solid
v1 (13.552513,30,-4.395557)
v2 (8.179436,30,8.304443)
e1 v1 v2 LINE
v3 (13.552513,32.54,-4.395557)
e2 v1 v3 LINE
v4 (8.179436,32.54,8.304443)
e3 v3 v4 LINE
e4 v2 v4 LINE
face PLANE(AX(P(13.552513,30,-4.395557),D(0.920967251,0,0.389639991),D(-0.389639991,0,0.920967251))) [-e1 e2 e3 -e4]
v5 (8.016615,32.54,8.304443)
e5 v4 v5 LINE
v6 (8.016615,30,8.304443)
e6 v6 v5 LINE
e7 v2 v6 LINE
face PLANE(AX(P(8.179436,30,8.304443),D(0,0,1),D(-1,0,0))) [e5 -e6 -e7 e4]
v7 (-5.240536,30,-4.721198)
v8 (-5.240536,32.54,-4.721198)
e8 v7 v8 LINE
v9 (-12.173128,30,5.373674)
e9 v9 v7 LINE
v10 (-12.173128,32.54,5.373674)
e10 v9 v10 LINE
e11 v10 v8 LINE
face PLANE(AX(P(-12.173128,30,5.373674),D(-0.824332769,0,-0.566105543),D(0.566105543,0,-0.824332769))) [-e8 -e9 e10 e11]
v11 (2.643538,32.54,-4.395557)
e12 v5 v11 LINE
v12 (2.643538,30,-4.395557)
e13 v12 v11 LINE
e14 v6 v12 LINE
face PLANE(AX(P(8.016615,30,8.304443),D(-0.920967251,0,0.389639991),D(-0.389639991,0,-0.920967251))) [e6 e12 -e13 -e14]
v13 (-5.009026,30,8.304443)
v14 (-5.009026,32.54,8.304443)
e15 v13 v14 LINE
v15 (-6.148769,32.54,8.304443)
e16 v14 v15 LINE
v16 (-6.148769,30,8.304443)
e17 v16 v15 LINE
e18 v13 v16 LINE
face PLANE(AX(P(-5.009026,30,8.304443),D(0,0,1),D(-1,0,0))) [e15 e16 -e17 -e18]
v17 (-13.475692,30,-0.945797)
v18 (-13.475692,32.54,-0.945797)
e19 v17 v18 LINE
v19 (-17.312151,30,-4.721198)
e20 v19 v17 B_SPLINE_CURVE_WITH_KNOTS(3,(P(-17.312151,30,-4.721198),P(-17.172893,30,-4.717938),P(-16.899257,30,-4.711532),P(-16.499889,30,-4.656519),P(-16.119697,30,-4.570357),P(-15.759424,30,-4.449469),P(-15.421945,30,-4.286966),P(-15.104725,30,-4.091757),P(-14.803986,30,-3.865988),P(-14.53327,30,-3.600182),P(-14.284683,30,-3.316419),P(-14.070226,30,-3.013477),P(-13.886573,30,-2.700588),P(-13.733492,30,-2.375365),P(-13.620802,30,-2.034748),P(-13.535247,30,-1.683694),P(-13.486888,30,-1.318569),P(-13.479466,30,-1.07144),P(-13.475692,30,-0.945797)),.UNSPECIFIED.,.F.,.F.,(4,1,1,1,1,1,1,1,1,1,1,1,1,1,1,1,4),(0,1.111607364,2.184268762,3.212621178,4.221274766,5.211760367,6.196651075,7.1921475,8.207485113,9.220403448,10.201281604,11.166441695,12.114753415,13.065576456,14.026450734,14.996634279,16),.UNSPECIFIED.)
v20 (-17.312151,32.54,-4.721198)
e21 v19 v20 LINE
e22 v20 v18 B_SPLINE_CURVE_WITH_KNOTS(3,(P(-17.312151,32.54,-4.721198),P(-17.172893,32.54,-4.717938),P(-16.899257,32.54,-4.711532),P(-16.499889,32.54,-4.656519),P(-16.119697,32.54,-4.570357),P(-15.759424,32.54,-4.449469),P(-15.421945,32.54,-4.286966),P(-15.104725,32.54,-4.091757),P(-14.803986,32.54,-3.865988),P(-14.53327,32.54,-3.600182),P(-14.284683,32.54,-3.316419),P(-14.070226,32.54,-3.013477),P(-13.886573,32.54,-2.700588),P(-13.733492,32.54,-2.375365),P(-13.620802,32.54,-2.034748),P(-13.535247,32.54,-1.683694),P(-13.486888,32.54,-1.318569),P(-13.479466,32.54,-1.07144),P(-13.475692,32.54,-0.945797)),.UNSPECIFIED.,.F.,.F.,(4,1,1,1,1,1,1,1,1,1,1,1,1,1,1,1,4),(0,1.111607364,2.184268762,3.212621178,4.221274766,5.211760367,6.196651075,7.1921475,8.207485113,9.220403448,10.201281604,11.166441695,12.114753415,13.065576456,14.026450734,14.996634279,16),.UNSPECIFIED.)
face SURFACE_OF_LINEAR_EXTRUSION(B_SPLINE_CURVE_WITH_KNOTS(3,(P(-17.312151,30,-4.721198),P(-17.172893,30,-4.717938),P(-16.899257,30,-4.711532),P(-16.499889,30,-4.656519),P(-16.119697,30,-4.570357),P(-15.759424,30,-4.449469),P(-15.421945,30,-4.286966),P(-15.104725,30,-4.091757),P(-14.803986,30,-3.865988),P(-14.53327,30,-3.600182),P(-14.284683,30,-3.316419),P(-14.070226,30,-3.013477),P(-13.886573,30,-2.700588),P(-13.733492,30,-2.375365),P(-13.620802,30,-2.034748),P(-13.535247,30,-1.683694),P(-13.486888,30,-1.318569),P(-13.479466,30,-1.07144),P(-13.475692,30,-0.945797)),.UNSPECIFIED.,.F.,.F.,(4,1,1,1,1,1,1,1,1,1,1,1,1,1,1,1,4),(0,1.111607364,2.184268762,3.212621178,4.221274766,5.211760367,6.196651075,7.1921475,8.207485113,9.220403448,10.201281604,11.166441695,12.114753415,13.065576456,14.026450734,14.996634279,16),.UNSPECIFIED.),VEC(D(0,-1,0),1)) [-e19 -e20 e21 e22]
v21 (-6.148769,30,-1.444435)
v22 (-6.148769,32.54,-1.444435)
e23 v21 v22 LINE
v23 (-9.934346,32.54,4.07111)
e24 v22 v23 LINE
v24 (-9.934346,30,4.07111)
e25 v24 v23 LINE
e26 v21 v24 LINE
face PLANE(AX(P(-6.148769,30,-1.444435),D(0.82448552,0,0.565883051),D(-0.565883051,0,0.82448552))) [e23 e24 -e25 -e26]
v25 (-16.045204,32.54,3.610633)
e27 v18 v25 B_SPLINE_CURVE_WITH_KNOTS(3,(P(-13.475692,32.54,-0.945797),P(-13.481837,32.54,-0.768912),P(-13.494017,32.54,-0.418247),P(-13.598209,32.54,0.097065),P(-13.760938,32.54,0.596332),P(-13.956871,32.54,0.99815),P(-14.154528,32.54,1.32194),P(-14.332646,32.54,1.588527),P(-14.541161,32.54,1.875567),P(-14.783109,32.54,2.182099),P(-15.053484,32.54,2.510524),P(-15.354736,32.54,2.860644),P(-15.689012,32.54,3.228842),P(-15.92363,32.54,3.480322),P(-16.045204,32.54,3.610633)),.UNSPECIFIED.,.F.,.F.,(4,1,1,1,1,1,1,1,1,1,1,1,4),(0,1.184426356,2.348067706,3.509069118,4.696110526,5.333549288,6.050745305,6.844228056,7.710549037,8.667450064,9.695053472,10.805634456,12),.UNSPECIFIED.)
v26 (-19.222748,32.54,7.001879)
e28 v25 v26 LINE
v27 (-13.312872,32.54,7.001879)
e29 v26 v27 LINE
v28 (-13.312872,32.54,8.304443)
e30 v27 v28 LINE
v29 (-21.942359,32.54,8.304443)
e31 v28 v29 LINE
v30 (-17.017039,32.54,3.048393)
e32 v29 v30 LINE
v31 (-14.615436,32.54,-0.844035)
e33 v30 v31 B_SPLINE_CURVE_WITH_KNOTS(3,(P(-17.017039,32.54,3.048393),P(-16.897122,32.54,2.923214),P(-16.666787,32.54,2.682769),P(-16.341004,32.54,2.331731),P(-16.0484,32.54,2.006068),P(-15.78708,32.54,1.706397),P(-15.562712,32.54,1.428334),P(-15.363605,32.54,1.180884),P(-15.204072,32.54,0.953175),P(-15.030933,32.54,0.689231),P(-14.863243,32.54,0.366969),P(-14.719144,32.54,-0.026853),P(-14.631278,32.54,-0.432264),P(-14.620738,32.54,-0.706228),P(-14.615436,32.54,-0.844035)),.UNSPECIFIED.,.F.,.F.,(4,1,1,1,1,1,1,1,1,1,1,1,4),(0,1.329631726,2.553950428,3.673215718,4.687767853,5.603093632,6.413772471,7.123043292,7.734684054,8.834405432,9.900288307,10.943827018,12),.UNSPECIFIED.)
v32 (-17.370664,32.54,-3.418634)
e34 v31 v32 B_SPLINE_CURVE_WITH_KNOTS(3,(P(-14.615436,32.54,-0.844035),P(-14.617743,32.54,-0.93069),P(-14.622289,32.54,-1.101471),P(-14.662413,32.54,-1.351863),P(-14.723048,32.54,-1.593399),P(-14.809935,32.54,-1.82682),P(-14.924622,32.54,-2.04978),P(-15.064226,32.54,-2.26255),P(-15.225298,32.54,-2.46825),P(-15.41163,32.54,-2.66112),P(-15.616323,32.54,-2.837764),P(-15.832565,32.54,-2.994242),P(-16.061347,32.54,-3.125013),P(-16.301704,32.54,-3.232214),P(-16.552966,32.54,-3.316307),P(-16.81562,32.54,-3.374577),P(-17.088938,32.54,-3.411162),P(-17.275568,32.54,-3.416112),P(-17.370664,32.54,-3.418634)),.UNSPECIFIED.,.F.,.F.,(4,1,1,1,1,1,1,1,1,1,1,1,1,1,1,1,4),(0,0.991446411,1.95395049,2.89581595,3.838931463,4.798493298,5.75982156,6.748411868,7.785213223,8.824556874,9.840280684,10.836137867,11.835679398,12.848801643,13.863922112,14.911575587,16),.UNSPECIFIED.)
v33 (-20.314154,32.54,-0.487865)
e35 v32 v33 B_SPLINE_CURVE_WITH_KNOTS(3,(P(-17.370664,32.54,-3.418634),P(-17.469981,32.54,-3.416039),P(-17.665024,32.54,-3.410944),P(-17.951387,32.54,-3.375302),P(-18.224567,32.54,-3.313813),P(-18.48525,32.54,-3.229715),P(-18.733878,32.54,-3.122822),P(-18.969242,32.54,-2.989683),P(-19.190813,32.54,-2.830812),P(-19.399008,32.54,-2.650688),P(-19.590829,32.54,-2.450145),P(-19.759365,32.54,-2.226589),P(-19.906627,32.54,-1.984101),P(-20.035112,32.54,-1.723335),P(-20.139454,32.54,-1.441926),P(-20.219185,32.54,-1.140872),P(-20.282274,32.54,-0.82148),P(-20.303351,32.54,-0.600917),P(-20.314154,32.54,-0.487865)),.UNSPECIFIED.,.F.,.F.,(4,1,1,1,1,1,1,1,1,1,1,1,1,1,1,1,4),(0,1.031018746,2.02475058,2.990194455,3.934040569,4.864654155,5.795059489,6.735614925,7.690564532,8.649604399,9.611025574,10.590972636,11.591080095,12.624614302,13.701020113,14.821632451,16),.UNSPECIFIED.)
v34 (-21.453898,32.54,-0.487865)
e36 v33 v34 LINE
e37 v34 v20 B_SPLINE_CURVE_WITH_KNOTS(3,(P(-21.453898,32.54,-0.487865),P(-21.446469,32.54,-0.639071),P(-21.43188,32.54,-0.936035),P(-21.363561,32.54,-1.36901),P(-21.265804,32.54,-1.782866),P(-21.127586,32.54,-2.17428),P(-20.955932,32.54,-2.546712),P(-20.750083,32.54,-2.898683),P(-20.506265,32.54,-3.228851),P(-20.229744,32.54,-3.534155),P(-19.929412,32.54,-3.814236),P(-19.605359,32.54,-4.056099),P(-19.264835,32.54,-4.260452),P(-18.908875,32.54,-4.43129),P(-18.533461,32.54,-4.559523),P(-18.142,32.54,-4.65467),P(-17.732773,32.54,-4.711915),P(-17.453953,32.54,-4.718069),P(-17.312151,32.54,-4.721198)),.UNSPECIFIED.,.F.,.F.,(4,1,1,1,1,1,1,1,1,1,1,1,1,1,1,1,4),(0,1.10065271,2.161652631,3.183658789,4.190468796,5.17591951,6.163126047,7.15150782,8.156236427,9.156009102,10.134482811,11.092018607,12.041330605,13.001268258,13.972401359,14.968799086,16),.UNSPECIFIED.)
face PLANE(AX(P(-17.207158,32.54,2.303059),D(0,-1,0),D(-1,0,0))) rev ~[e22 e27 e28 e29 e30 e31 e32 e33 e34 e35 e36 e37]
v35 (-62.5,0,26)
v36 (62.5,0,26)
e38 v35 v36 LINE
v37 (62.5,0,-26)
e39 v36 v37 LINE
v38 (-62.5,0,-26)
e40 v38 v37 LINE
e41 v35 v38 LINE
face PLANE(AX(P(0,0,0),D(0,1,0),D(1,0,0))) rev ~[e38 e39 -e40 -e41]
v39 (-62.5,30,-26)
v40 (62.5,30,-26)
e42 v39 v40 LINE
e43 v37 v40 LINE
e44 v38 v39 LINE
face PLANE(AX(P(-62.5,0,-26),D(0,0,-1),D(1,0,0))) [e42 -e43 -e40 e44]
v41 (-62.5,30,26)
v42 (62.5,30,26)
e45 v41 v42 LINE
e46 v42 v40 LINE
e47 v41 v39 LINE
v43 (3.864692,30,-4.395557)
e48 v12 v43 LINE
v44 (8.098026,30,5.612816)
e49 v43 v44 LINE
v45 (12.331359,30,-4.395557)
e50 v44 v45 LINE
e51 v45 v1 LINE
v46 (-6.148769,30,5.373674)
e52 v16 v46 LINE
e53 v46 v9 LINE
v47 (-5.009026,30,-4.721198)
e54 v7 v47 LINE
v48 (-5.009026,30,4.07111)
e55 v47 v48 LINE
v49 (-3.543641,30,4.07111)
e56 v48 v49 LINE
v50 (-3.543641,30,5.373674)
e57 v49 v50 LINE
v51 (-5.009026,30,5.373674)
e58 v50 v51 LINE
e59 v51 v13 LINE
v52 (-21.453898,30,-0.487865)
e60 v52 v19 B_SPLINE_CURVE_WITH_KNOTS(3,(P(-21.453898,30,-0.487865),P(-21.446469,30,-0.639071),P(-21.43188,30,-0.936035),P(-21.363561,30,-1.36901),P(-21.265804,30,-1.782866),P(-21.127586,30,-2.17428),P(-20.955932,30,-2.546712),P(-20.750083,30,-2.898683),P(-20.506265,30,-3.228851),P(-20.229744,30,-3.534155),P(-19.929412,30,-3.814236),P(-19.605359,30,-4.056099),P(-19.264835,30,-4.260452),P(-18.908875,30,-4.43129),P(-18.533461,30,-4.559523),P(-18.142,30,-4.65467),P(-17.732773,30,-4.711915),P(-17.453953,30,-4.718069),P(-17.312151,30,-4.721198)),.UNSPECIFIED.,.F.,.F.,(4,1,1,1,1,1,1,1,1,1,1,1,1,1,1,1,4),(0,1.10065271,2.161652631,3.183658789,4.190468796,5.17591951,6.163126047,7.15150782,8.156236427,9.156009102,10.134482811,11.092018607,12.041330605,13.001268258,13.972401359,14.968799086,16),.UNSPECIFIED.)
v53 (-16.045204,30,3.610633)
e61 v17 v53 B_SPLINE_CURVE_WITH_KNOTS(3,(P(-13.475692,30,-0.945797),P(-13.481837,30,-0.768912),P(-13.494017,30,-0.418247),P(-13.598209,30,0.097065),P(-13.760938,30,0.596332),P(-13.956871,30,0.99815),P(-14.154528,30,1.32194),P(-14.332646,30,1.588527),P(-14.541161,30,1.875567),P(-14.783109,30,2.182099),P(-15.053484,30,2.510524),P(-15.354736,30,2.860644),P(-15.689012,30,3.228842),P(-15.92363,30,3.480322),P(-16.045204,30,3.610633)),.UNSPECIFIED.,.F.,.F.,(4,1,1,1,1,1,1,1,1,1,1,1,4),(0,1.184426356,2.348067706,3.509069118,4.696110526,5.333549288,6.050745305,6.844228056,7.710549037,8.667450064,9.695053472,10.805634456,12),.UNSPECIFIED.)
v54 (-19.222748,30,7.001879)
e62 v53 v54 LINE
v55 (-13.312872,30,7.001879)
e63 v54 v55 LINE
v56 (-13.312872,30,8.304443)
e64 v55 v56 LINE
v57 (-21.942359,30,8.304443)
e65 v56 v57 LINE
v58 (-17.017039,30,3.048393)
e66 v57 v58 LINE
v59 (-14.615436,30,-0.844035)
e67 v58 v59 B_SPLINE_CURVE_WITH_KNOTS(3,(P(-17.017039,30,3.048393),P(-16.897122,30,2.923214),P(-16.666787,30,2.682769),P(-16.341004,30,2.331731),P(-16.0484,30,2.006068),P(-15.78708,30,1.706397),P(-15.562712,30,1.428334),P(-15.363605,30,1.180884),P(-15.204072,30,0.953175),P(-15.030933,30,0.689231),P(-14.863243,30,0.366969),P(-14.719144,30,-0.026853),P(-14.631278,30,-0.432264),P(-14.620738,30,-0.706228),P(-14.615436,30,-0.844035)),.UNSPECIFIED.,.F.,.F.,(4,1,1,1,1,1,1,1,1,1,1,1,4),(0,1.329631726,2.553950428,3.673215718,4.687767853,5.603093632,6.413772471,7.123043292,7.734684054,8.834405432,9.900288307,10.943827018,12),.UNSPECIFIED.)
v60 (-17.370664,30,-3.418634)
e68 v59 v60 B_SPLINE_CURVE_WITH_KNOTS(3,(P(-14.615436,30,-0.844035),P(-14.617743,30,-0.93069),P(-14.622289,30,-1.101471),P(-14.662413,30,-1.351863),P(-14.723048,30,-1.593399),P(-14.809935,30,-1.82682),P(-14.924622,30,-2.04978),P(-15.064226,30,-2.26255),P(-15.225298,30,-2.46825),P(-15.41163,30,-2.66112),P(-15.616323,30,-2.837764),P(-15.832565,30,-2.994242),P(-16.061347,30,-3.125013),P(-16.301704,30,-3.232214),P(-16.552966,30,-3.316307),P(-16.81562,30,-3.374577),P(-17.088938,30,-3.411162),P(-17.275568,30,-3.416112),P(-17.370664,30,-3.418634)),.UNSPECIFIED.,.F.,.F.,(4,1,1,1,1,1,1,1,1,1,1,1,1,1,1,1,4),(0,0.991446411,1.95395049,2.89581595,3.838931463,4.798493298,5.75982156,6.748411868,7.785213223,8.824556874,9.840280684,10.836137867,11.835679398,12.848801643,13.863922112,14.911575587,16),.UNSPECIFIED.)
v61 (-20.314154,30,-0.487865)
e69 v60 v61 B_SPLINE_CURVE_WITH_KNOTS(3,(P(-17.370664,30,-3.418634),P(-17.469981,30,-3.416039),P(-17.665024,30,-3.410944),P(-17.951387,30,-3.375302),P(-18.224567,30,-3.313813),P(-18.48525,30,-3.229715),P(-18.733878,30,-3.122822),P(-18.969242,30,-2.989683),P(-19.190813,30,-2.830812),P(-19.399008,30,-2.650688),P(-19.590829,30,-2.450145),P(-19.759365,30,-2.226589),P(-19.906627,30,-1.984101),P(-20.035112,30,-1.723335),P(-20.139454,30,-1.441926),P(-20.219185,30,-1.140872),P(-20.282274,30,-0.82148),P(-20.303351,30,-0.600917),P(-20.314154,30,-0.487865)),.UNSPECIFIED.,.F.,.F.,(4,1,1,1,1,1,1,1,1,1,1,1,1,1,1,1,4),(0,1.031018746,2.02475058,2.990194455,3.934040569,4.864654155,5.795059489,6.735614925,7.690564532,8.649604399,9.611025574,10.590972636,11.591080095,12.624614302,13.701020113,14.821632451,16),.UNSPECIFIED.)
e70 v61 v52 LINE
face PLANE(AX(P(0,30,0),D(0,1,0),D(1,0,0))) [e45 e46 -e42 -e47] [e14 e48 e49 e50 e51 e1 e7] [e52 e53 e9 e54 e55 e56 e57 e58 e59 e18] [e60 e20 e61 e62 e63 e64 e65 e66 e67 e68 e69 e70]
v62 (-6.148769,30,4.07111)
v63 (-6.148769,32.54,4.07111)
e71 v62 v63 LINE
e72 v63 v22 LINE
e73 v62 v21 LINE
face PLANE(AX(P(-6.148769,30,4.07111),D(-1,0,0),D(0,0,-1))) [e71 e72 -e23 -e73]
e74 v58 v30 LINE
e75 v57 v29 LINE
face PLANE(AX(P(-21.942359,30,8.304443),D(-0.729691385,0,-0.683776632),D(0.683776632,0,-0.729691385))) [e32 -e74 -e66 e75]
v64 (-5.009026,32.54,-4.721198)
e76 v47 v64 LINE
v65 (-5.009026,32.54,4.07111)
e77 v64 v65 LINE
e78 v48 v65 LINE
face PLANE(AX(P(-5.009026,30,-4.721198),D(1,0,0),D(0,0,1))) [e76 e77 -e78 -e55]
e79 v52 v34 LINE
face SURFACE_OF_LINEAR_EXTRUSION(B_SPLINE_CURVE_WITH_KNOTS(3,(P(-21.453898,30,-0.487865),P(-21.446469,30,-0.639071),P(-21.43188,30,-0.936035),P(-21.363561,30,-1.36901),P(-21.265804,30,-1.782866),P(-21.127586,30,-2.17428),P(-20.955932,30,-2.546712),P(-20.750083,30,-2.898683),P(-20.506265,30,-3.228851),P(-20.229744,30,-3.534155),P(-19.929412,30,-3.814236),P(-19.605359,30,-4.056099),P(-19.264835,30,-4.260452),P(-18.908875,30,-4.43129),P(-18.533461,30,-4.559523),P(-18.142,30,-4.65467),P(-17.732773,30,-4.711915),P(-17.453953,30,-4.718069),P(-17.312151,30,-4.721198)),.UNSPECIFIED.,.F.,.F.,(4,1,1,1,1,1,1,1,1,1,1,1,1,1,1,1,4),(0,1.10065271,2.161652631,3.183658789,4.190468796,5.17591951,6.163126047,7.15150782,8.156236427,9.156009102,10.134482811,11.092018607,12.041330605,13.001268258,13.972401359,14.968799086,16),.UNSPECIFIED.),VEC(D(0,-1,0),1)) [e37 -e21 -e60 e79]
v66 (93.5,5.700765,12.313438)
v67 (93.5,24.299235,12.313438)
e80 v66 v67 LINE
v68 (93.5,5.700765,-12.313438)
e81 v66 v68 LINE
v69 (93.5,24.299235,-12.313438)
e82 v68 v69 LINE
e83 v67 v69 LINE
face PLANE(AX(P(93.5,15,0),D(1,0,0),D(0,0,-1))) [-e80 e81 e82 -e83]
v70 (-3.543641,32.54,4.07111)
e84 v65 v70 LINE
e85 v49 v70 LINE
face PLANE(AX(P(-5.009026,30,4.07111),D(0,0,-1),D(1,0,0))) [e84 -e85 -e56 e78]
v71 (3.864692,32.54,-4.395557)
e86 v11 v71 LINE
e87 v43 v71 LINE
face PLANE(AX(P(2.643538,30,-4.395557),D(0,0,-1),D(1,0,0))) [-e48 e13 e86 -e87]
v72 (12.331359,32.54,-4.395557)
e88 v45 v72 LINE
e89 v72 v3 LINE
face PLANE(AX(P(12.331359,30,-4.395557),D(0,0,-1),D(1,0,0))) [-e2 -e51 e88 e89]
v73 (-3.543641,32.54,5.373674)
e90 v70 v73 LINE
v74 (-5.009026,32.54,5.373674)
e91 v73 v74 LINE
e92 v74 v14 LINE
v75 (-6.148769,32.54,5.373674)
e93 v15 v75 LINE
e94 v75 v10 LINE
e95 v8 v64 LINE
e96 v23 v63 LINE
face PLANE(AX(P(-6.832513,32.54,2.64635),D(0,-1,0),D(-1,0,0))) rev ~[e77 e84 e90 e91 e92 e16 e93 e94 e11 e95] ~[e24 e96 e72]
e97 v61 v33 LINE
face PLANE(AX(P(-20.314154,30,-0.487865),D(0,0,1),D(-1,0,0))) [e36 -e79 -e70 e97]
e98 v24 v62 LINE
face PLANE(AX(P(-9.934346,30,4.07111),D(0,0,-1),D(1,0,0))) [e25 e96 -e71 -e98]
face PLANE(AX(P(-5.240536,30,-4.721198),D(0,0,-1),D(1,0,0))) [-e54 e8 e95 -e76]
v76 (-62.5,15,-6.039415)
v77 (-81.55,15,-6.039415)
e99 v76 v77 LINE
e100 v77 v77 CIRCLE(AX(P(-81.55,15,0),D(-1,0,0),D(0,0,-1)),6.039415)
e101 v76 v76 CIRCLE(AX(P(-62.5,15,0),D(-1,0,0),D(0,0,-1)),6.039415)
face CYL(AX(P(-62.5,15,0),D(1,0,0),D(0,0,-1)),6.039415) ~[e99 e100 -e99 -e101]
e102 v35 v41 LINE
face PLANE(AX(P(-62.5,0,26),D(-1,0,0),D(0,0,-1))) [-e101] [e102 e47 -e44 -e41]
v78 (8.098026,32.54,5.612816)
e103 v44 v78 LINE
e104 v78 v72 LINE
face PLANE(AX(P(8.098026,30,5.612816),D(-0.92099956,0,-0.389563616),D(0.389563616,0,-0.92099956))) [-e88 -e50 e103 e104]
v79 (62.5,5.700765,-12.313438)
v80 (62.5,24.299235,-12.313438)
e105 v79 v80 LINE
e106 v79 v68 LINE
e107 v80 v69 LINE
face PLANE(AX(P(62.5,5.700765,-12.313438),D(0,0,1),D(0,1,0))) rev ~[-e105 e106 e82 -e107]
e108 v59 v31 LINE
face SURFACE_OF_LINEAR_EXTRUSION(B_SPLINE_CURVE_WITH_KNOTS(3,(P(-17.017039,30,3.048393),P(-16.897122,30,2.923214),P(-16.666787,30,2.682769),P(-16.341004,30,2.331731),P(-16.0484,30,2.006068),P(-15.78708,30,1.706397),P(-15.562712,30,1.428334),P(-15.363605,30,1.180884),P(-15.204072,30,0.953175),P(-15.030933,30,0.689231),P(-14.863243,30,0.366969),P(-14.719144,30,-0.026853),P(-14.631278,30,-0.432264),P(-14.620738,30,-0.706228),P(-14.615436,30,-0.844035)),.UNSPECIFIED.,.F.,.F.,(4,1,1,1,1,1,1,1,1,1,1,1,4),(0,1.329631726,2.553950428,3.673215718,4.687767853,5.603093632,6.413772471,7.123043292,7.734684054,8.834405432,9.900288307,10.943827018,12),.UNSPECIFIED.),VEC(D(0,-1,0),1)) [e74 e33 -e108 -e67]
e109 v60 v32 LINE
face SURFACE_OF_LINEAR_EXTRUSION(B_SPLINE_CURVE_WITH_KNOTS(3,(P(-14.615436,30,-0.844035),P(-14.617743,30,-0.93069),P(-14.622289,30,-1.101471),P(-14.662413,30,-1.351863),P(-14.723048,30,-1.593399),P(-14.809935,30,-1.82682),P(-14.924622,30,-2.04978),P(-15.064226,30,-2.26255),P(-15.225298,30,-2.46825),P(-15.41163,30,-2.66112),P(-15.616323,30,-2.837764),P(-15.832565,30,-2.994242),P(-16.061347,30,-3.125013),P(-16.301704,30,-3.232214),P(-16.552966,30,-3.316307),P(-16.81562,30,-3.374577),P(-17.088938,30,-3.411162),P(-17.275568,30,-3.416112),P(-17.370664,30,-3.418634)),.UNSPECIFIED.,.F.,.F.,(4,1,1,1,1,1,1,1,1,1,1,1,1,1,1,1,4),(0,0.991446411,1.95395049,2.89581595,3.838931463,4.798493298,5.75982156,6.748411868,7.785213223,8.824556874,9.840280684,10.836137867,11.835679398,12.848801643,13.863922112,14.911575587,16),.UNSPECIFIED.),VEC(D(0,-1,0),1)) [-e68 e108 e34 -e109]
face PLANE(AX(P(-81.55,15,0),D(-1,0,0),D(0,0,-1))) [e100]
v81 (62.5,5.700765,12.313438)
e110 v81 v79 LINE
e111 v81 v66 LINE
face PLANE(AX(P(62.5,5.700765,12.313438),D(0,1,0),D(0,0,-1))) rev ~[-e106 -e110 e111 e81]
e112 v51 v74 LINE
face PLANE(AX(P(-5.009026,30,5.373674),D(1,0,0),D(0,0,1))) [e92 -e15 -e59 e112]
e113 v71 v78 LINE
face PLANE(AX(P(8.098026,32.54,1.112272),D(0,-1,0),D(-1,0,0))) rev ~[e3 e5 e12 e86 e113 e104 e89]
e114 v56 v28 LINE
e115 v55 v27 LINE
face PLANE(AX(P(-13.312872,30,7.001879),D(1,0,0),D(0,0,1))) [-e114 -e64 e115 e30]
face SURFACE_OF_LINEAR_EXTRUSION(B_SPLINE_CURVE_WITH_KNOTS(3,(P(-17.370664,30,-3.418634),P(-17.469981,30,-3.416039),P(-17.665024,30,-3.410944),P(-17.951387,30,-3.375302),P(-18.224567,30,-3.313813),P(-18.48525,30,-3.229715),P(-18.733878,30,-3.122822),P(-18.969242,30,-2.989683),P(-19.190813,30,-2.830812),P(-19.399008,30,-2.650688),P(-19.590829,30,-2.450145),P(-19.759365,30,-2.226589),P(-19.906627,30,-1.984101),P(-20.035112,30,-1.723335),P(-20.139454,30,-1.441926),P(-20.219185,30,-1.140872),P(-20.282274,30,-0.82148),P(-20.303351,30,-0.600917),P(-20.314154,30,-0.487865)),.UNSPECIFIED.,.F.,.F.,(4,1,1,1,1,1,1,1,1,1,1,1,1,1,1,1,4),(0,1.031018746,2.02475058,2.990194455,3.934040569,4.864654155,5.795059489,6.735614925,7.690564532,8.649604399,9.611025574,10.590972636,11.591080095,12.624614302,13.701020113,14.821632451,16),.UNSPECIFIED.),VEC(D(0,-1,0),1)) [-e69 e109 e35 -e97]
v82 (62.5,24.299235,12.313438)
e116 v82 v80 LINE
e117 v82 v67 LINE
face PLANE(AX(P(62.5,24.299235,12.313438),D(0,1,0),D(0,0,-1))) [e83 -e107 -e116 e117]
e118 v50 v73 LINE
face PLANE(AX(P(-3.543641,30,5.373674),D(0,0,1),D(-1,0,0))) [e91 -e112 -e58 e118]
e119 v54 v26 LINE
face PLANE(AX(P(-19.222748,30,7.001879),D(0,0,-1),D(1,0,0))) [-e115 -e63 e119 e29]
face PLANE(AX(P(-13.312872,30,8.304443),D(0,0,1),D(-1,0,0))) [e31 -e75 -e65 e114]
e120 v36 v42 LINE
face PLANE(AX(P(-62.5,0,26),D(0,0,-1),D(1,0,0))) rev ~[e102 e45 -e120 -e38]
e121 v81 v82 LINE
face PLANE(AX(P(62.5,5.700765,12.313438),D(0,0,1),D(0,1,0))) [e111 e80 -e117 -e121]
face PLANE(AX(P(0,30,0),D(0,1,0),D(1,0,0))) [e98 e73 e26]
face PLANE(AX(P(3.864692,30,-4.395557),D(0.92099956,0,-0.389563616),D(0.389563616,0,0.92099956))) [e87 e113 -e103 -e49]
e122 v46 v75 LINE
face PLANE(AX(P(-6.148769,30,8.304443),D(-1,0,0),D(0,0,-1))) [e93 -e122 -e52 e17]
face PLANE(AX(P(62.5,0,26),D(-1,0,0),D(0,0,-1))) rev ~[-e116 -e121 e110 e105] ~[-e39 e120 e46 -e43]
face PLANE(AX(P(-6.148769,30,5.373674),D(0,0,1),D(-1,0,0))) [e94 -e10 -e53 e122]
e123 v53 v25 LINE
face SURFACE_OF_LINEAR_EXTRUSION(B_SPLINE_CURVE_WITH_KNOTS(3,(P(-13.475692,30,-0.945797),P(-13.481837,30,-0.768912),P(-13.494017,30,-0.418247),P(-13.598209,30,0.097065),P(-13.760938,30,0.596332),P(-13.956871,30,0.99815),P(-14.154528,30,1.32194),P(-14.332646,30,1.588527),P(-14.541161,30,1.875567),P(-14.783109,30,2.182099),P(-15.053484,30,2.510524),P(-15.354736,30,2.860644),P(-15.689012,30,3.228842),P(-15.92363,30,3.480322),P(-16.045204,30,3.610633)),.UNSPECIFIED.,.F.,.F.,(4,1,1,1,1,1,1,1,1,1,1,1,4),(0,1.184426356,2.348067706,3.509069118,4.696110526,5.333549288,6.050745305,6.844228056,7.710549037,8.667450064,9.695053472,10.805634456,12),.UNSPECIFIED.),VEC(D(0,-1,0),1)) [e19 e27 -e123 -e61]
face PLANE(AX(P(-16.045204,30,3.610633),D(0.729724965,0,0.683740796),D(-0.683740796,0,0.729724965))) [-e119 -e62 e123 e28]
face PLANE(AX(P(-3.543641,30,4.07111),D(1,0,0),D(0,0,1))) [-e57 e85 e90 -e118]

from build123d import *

# Parameters (mm, degrees)
SKETCH1_W           = 125
SKETCH1_H           = 52
BOSS_EXTRUDE1_DEPTH = 30
SKETCH2_W           = 24.62687601
SKETCH2_H           = 18.598470566
BOSS_EXTRUDE2_DEPTH = 31
SKETCH3_R           = 6.039414619
BOSS_EXTRUDE3_DEPTH = 19.05
BOSS_EXTRUDE4_DEPTH = 2.54


with BuildPart() as part:
    # Sketch1 → Boss-Extrude1 (new body)
    with BuildSketch(Plane(origin=(0, 0, 0), x_dir=(1, 0, 0), z_dir=(0, 1, 0))):
        Rectangle(SKETCH1_W, SKETCH1_H)
    extrude(amount=BOSS_EXTRUDE1_DEPTH)

    # Sketch2 → Boss-Extrude2 (add)
    with BuildSketch(Plane(origin=(62.5, 0, 0), x_dir=(0, 0, -1), z_dir=(1, 0, 0))):
        with Locations((0, 15)):
            Rectangle(SKETCH2_W, SKETCH2_H)
    extrude(amount=BOSS_EXTRUDE2_DEPTH)

    # Sketch3 → Boss-Extrude3 (add)
    with BuildSketch(Plane.ZY.offset(62.5)):
        with Locations(Location((0, 15, 0), (0, 0, 180))):
            Circle(SKETCH3_R)
    extrude(amount=BOSS_EXTRUDE3_DEPTH)

    # Sketch4 → Boss-Extrude4 (add)
    # profile 1 of 3: a face of its own
    with BuildSketch(Plane(origin=(0, 30, 0), x_dir=(1, 0, 0), z_dir=(0, 1, 0))):
        with BuildLine():
            Line((-20.314153968, 0.487864775), (-21.453897558, 0.487864775))
            add(Edge.make_bspline(
                [(-21.453897558, 0.487864775), (-21.446469317, 0.639070568), (-21.431880449, 0.936034721), (-21.363560657, 1.369010039), (-21.26580376, 1.782866023), (-21.127586198, 2.17427971), (-20.95593199, 2.546711954), (-20.750083034, 2.898683439), (-20.506265347, 3.228851467), (-20.22974377, 3.53415527), (-19.929411851, 3.814235884), (-19.60535887, 4.056099193), (-19.264835486, 4.260451887), (-18.908874809, 4.431289536), (-18.533460764, 4.559522691), (-18.142000109, 4.654669783), (-17.732772957, 4.71191538), (-17.453953448, 4.71806866), (-17.312150763, 4.721198109)],
                knots=[0, 0, 0, 0, 1.10065271, 2.161652631, 3.183658789, 4.190468796, 5.17591951, 6.163126047, 7.15150782, 8.156236427, 9.156009102, 10.134482811, 11.092018607, 12.041330605, 13.001268258, 13.972401359, 14.968799086, 16, 16, 16, 16], degree=3))
            add(Edge.make_bspline(
                [(-17.312150763, 4.721198109), (-17.17289318, 4.717937995), (-16.899257003, 4.711531989), (-16.499889122, 4.656519111), (-16.119697225, 4.570356536), (-15.759424473, 4.449469168), (-15.421945324, 4.286965675), (-15.104724562, 4.091757463), (-14.80398562, 3.865988361), (-14.533269577, 3.600181666), (-14.284683118, 3.316418728), (-14.070226364, 3.013476906), (-13.886572885, 2.700587784), (-13.733491875, 2.375365452), (-13.620802456, 2.034747721), (-13.535247244, 1.683693585), (-13.486887772, 1.318569271), (-13.479465807, 1.071439769), (-13.47569243, 0.945797468)],
                knots=[0, 0, 0, 0, 1.111607364, 2.184268762, 3.212621178, 4.221274766, 5.211760367, 6.196651075, 7.1921475, 8.207485113, 9.220403448, 10.201281604, 11.166441695, 12.114753415, 13.065576456, 14.026450734, 14.996634279, 16, 16, 16, 16], degree=3))
            add(Edge.make_bspline(
                [(-13.47569243, 0.945797468), (-13.481836555, 0.768912468), (-13.494016985, 0.41824655), (-13.598209151, -0.097064524), (-13.76093792, -0.596332073), (-13.956871186, -0.998150283), (-14.15452834, -1.321940389), (-14.332645868, -1.588526833), (-14.541161039, -1.875566675), (-14.783108732, -2.182098728), (-15.053484011, -2.510524012), (-15.354735861, -2.860644127), (-15.689012495, -3.228841692), (-15.923630484, -3.480322017), (-16.045203648, -3.610632821)],
                knots=[0, 0, 0, 0, 1.184426356, 2.348067706, 3.509069118, 4.696110526, 5.333549288, 6.050745305, 6.844228056, 7.710549037, 8.667450064, 9.695053472, 10.805634456, 12, 12, 12, 12], degree=3))
            Line((-16.045203648, -3.610632821), (-19.222747718, -7.001878814))
            Line((-19.222747718, -7.001878814), (-13.312871917, -7.001878814))
            Line((-13.312871917, -7.001878814), (-13.312871917, -8.304442917))
            Line((-13.312871917, -8.304442917), (-21.942359096, -8.304442917))
            Line((-21.942359096, -8.304442917), (-17.017038583, -3.048393237))
            add(Edge.make_bspline(
                [(-17.017038583, -3.048393237), (-16.897121966, -2.923213668), (-16.666786684, -2.682769334), (-16.341004191, -2.331730593), (-16.048399862, -2.006067973), (-15.787079609, -1.706396783), (-15.562712318, -1.428333666), (-15.363604505, -1.180884313), (-15.204072217, -0.953175307), (-15.030933496, -0.689230794), (-14.863242763, -0.366968957), (-14.719143643, 0.026853286), (-14.631278336, 0.432263603), (-14.620737932, 0.706228138), (-14.615436019, 0.844034647)],
                knots=[0, 0, 0, 0, 1.329631726, 2.553950428, 3.673215718, 4.687767853, 5.603093632, 6.413772471, 7.123043292, 7.734684054, 8.834405432, 9.900288307, 10.943827018, 12, 12, 12, 12], degree=3))
            add(Edge.make_bspline(
                [(-14.615436019, 0.844034647), (-14.617742856, 0.930690007), (-14.622289187, 1.101471081), (-14.662412832, 1.351863407), (-14.723048097, 1.593398589), (-14.809935176, 1.826819578), (-14.92462249, 2.049779515), (-15.064225898, 2.262549801), (-15.225298413, 2.46824976), (-15.411630162, 2.661120299), (-15.616323391, 2.83776353), (-15.832565383, 2.994242354), (-16.061347189, 3.125012842), (-16.301704204, 3.232213532), (-16.552966336, 3.316307058), (-16.815619554, 3.37457676), (-17.088938127, 3.411161774), (-17.27556824, 3.416111769), (-17.370664385, 3.418634006)],
                knots=[0, 0, 0, 0, 0.991446411, 1.95395049, 2.89581595, 3.838931463, 4.798493298, 5.75982156, 6.748411868, 7.785213223, 8.824556874, 9.840280684, 10.836137867, 11.835679398, 12.848801643, 13.863922112, 14.911575587, 16, 16, 16, 16], degree=3))
            add(Edge.make_bspline(
                [(-17.370664385, 3.418634006), (-17.469981406, 3.416039461), (-17.665023638, 3.410944201), (-17.951386986, 3.375301963), (-18.224566808, 3.313812771), (-18.485250284, 3.229714553), (-18.733878496, 3.122822104), (-18.969242313, 2.989683488), (-19.190813368, 2.830811955), (-19.399008181, 2.650687651), (-19.590828905, 2.450145212), (-19.759364712, 2.226589061), (-19.906626706, 1.984101011), (-20.035111639, 1.723335356), (-20.139453714, 1.441925925), (-20.21918486, 1.140871682), (-20.282274275, 0.821479812), (-20.303350907, 0.60091679), (-20.314153968, 0.487864775)],
                knots=[0, 0, 0, 0, 1.031018746, 2.02475058, 2.990194455, 3.934040569, 4.864654155, 5.795059489, 6.735614925, 7.690564532, 8.649604399, 9.611025574, 10.590972636, 11.591080095, 12.624614302, 13.701020113, 14.821632451, 16, 16, 16, 16], degree=3))
        make_face()
    # profile 2 of 3: a face of its own
    with BuildSketch(Plane(origin=(0, 30, 0), x_dir=(1, 0, 0), z_dir=(0, 1, 0))):
        Polygon((-5.24053618, 4.721198109), (-5.009025763, 4.721198109), (-5.009025763, -4.071109584), (-3.543641148, -4.071109584), (-3.543641148, -5.373673686), (-5.009025763, -5.373673686), (-5.009025763, -8.304442917), (-6.148769353, -8.304442917), (-6.148769353, -5.373673686), (-12.173128327, -5.373673686), align=None)
        Polygon((-6.148769353, -4.071109584), (-6.148769353, 1.444435288), (-9.934346276, -4.071109584), align=None, mode=Mode.SUBTRACT)
    # profile 3 of 3: a face of its own
    with BuildSketch(Plane(origin=(0, 30, 0), x_dir=(1, 0, 0), z_dir=(0, 1, 0))):
        Polygon((2.64353834, 4.395557083), (3.864692186, 4.395557083), (8.098025519, -5.612816314), (12.331358852, 4.395557083), (13.552512699, 4.395557083), (8.179435776, -8.304442917), (8.016615263, -8.304442917), align=None)
    extrude(amount=BOSS_EXTRUDE4_DEPTH)


solid = part.part
